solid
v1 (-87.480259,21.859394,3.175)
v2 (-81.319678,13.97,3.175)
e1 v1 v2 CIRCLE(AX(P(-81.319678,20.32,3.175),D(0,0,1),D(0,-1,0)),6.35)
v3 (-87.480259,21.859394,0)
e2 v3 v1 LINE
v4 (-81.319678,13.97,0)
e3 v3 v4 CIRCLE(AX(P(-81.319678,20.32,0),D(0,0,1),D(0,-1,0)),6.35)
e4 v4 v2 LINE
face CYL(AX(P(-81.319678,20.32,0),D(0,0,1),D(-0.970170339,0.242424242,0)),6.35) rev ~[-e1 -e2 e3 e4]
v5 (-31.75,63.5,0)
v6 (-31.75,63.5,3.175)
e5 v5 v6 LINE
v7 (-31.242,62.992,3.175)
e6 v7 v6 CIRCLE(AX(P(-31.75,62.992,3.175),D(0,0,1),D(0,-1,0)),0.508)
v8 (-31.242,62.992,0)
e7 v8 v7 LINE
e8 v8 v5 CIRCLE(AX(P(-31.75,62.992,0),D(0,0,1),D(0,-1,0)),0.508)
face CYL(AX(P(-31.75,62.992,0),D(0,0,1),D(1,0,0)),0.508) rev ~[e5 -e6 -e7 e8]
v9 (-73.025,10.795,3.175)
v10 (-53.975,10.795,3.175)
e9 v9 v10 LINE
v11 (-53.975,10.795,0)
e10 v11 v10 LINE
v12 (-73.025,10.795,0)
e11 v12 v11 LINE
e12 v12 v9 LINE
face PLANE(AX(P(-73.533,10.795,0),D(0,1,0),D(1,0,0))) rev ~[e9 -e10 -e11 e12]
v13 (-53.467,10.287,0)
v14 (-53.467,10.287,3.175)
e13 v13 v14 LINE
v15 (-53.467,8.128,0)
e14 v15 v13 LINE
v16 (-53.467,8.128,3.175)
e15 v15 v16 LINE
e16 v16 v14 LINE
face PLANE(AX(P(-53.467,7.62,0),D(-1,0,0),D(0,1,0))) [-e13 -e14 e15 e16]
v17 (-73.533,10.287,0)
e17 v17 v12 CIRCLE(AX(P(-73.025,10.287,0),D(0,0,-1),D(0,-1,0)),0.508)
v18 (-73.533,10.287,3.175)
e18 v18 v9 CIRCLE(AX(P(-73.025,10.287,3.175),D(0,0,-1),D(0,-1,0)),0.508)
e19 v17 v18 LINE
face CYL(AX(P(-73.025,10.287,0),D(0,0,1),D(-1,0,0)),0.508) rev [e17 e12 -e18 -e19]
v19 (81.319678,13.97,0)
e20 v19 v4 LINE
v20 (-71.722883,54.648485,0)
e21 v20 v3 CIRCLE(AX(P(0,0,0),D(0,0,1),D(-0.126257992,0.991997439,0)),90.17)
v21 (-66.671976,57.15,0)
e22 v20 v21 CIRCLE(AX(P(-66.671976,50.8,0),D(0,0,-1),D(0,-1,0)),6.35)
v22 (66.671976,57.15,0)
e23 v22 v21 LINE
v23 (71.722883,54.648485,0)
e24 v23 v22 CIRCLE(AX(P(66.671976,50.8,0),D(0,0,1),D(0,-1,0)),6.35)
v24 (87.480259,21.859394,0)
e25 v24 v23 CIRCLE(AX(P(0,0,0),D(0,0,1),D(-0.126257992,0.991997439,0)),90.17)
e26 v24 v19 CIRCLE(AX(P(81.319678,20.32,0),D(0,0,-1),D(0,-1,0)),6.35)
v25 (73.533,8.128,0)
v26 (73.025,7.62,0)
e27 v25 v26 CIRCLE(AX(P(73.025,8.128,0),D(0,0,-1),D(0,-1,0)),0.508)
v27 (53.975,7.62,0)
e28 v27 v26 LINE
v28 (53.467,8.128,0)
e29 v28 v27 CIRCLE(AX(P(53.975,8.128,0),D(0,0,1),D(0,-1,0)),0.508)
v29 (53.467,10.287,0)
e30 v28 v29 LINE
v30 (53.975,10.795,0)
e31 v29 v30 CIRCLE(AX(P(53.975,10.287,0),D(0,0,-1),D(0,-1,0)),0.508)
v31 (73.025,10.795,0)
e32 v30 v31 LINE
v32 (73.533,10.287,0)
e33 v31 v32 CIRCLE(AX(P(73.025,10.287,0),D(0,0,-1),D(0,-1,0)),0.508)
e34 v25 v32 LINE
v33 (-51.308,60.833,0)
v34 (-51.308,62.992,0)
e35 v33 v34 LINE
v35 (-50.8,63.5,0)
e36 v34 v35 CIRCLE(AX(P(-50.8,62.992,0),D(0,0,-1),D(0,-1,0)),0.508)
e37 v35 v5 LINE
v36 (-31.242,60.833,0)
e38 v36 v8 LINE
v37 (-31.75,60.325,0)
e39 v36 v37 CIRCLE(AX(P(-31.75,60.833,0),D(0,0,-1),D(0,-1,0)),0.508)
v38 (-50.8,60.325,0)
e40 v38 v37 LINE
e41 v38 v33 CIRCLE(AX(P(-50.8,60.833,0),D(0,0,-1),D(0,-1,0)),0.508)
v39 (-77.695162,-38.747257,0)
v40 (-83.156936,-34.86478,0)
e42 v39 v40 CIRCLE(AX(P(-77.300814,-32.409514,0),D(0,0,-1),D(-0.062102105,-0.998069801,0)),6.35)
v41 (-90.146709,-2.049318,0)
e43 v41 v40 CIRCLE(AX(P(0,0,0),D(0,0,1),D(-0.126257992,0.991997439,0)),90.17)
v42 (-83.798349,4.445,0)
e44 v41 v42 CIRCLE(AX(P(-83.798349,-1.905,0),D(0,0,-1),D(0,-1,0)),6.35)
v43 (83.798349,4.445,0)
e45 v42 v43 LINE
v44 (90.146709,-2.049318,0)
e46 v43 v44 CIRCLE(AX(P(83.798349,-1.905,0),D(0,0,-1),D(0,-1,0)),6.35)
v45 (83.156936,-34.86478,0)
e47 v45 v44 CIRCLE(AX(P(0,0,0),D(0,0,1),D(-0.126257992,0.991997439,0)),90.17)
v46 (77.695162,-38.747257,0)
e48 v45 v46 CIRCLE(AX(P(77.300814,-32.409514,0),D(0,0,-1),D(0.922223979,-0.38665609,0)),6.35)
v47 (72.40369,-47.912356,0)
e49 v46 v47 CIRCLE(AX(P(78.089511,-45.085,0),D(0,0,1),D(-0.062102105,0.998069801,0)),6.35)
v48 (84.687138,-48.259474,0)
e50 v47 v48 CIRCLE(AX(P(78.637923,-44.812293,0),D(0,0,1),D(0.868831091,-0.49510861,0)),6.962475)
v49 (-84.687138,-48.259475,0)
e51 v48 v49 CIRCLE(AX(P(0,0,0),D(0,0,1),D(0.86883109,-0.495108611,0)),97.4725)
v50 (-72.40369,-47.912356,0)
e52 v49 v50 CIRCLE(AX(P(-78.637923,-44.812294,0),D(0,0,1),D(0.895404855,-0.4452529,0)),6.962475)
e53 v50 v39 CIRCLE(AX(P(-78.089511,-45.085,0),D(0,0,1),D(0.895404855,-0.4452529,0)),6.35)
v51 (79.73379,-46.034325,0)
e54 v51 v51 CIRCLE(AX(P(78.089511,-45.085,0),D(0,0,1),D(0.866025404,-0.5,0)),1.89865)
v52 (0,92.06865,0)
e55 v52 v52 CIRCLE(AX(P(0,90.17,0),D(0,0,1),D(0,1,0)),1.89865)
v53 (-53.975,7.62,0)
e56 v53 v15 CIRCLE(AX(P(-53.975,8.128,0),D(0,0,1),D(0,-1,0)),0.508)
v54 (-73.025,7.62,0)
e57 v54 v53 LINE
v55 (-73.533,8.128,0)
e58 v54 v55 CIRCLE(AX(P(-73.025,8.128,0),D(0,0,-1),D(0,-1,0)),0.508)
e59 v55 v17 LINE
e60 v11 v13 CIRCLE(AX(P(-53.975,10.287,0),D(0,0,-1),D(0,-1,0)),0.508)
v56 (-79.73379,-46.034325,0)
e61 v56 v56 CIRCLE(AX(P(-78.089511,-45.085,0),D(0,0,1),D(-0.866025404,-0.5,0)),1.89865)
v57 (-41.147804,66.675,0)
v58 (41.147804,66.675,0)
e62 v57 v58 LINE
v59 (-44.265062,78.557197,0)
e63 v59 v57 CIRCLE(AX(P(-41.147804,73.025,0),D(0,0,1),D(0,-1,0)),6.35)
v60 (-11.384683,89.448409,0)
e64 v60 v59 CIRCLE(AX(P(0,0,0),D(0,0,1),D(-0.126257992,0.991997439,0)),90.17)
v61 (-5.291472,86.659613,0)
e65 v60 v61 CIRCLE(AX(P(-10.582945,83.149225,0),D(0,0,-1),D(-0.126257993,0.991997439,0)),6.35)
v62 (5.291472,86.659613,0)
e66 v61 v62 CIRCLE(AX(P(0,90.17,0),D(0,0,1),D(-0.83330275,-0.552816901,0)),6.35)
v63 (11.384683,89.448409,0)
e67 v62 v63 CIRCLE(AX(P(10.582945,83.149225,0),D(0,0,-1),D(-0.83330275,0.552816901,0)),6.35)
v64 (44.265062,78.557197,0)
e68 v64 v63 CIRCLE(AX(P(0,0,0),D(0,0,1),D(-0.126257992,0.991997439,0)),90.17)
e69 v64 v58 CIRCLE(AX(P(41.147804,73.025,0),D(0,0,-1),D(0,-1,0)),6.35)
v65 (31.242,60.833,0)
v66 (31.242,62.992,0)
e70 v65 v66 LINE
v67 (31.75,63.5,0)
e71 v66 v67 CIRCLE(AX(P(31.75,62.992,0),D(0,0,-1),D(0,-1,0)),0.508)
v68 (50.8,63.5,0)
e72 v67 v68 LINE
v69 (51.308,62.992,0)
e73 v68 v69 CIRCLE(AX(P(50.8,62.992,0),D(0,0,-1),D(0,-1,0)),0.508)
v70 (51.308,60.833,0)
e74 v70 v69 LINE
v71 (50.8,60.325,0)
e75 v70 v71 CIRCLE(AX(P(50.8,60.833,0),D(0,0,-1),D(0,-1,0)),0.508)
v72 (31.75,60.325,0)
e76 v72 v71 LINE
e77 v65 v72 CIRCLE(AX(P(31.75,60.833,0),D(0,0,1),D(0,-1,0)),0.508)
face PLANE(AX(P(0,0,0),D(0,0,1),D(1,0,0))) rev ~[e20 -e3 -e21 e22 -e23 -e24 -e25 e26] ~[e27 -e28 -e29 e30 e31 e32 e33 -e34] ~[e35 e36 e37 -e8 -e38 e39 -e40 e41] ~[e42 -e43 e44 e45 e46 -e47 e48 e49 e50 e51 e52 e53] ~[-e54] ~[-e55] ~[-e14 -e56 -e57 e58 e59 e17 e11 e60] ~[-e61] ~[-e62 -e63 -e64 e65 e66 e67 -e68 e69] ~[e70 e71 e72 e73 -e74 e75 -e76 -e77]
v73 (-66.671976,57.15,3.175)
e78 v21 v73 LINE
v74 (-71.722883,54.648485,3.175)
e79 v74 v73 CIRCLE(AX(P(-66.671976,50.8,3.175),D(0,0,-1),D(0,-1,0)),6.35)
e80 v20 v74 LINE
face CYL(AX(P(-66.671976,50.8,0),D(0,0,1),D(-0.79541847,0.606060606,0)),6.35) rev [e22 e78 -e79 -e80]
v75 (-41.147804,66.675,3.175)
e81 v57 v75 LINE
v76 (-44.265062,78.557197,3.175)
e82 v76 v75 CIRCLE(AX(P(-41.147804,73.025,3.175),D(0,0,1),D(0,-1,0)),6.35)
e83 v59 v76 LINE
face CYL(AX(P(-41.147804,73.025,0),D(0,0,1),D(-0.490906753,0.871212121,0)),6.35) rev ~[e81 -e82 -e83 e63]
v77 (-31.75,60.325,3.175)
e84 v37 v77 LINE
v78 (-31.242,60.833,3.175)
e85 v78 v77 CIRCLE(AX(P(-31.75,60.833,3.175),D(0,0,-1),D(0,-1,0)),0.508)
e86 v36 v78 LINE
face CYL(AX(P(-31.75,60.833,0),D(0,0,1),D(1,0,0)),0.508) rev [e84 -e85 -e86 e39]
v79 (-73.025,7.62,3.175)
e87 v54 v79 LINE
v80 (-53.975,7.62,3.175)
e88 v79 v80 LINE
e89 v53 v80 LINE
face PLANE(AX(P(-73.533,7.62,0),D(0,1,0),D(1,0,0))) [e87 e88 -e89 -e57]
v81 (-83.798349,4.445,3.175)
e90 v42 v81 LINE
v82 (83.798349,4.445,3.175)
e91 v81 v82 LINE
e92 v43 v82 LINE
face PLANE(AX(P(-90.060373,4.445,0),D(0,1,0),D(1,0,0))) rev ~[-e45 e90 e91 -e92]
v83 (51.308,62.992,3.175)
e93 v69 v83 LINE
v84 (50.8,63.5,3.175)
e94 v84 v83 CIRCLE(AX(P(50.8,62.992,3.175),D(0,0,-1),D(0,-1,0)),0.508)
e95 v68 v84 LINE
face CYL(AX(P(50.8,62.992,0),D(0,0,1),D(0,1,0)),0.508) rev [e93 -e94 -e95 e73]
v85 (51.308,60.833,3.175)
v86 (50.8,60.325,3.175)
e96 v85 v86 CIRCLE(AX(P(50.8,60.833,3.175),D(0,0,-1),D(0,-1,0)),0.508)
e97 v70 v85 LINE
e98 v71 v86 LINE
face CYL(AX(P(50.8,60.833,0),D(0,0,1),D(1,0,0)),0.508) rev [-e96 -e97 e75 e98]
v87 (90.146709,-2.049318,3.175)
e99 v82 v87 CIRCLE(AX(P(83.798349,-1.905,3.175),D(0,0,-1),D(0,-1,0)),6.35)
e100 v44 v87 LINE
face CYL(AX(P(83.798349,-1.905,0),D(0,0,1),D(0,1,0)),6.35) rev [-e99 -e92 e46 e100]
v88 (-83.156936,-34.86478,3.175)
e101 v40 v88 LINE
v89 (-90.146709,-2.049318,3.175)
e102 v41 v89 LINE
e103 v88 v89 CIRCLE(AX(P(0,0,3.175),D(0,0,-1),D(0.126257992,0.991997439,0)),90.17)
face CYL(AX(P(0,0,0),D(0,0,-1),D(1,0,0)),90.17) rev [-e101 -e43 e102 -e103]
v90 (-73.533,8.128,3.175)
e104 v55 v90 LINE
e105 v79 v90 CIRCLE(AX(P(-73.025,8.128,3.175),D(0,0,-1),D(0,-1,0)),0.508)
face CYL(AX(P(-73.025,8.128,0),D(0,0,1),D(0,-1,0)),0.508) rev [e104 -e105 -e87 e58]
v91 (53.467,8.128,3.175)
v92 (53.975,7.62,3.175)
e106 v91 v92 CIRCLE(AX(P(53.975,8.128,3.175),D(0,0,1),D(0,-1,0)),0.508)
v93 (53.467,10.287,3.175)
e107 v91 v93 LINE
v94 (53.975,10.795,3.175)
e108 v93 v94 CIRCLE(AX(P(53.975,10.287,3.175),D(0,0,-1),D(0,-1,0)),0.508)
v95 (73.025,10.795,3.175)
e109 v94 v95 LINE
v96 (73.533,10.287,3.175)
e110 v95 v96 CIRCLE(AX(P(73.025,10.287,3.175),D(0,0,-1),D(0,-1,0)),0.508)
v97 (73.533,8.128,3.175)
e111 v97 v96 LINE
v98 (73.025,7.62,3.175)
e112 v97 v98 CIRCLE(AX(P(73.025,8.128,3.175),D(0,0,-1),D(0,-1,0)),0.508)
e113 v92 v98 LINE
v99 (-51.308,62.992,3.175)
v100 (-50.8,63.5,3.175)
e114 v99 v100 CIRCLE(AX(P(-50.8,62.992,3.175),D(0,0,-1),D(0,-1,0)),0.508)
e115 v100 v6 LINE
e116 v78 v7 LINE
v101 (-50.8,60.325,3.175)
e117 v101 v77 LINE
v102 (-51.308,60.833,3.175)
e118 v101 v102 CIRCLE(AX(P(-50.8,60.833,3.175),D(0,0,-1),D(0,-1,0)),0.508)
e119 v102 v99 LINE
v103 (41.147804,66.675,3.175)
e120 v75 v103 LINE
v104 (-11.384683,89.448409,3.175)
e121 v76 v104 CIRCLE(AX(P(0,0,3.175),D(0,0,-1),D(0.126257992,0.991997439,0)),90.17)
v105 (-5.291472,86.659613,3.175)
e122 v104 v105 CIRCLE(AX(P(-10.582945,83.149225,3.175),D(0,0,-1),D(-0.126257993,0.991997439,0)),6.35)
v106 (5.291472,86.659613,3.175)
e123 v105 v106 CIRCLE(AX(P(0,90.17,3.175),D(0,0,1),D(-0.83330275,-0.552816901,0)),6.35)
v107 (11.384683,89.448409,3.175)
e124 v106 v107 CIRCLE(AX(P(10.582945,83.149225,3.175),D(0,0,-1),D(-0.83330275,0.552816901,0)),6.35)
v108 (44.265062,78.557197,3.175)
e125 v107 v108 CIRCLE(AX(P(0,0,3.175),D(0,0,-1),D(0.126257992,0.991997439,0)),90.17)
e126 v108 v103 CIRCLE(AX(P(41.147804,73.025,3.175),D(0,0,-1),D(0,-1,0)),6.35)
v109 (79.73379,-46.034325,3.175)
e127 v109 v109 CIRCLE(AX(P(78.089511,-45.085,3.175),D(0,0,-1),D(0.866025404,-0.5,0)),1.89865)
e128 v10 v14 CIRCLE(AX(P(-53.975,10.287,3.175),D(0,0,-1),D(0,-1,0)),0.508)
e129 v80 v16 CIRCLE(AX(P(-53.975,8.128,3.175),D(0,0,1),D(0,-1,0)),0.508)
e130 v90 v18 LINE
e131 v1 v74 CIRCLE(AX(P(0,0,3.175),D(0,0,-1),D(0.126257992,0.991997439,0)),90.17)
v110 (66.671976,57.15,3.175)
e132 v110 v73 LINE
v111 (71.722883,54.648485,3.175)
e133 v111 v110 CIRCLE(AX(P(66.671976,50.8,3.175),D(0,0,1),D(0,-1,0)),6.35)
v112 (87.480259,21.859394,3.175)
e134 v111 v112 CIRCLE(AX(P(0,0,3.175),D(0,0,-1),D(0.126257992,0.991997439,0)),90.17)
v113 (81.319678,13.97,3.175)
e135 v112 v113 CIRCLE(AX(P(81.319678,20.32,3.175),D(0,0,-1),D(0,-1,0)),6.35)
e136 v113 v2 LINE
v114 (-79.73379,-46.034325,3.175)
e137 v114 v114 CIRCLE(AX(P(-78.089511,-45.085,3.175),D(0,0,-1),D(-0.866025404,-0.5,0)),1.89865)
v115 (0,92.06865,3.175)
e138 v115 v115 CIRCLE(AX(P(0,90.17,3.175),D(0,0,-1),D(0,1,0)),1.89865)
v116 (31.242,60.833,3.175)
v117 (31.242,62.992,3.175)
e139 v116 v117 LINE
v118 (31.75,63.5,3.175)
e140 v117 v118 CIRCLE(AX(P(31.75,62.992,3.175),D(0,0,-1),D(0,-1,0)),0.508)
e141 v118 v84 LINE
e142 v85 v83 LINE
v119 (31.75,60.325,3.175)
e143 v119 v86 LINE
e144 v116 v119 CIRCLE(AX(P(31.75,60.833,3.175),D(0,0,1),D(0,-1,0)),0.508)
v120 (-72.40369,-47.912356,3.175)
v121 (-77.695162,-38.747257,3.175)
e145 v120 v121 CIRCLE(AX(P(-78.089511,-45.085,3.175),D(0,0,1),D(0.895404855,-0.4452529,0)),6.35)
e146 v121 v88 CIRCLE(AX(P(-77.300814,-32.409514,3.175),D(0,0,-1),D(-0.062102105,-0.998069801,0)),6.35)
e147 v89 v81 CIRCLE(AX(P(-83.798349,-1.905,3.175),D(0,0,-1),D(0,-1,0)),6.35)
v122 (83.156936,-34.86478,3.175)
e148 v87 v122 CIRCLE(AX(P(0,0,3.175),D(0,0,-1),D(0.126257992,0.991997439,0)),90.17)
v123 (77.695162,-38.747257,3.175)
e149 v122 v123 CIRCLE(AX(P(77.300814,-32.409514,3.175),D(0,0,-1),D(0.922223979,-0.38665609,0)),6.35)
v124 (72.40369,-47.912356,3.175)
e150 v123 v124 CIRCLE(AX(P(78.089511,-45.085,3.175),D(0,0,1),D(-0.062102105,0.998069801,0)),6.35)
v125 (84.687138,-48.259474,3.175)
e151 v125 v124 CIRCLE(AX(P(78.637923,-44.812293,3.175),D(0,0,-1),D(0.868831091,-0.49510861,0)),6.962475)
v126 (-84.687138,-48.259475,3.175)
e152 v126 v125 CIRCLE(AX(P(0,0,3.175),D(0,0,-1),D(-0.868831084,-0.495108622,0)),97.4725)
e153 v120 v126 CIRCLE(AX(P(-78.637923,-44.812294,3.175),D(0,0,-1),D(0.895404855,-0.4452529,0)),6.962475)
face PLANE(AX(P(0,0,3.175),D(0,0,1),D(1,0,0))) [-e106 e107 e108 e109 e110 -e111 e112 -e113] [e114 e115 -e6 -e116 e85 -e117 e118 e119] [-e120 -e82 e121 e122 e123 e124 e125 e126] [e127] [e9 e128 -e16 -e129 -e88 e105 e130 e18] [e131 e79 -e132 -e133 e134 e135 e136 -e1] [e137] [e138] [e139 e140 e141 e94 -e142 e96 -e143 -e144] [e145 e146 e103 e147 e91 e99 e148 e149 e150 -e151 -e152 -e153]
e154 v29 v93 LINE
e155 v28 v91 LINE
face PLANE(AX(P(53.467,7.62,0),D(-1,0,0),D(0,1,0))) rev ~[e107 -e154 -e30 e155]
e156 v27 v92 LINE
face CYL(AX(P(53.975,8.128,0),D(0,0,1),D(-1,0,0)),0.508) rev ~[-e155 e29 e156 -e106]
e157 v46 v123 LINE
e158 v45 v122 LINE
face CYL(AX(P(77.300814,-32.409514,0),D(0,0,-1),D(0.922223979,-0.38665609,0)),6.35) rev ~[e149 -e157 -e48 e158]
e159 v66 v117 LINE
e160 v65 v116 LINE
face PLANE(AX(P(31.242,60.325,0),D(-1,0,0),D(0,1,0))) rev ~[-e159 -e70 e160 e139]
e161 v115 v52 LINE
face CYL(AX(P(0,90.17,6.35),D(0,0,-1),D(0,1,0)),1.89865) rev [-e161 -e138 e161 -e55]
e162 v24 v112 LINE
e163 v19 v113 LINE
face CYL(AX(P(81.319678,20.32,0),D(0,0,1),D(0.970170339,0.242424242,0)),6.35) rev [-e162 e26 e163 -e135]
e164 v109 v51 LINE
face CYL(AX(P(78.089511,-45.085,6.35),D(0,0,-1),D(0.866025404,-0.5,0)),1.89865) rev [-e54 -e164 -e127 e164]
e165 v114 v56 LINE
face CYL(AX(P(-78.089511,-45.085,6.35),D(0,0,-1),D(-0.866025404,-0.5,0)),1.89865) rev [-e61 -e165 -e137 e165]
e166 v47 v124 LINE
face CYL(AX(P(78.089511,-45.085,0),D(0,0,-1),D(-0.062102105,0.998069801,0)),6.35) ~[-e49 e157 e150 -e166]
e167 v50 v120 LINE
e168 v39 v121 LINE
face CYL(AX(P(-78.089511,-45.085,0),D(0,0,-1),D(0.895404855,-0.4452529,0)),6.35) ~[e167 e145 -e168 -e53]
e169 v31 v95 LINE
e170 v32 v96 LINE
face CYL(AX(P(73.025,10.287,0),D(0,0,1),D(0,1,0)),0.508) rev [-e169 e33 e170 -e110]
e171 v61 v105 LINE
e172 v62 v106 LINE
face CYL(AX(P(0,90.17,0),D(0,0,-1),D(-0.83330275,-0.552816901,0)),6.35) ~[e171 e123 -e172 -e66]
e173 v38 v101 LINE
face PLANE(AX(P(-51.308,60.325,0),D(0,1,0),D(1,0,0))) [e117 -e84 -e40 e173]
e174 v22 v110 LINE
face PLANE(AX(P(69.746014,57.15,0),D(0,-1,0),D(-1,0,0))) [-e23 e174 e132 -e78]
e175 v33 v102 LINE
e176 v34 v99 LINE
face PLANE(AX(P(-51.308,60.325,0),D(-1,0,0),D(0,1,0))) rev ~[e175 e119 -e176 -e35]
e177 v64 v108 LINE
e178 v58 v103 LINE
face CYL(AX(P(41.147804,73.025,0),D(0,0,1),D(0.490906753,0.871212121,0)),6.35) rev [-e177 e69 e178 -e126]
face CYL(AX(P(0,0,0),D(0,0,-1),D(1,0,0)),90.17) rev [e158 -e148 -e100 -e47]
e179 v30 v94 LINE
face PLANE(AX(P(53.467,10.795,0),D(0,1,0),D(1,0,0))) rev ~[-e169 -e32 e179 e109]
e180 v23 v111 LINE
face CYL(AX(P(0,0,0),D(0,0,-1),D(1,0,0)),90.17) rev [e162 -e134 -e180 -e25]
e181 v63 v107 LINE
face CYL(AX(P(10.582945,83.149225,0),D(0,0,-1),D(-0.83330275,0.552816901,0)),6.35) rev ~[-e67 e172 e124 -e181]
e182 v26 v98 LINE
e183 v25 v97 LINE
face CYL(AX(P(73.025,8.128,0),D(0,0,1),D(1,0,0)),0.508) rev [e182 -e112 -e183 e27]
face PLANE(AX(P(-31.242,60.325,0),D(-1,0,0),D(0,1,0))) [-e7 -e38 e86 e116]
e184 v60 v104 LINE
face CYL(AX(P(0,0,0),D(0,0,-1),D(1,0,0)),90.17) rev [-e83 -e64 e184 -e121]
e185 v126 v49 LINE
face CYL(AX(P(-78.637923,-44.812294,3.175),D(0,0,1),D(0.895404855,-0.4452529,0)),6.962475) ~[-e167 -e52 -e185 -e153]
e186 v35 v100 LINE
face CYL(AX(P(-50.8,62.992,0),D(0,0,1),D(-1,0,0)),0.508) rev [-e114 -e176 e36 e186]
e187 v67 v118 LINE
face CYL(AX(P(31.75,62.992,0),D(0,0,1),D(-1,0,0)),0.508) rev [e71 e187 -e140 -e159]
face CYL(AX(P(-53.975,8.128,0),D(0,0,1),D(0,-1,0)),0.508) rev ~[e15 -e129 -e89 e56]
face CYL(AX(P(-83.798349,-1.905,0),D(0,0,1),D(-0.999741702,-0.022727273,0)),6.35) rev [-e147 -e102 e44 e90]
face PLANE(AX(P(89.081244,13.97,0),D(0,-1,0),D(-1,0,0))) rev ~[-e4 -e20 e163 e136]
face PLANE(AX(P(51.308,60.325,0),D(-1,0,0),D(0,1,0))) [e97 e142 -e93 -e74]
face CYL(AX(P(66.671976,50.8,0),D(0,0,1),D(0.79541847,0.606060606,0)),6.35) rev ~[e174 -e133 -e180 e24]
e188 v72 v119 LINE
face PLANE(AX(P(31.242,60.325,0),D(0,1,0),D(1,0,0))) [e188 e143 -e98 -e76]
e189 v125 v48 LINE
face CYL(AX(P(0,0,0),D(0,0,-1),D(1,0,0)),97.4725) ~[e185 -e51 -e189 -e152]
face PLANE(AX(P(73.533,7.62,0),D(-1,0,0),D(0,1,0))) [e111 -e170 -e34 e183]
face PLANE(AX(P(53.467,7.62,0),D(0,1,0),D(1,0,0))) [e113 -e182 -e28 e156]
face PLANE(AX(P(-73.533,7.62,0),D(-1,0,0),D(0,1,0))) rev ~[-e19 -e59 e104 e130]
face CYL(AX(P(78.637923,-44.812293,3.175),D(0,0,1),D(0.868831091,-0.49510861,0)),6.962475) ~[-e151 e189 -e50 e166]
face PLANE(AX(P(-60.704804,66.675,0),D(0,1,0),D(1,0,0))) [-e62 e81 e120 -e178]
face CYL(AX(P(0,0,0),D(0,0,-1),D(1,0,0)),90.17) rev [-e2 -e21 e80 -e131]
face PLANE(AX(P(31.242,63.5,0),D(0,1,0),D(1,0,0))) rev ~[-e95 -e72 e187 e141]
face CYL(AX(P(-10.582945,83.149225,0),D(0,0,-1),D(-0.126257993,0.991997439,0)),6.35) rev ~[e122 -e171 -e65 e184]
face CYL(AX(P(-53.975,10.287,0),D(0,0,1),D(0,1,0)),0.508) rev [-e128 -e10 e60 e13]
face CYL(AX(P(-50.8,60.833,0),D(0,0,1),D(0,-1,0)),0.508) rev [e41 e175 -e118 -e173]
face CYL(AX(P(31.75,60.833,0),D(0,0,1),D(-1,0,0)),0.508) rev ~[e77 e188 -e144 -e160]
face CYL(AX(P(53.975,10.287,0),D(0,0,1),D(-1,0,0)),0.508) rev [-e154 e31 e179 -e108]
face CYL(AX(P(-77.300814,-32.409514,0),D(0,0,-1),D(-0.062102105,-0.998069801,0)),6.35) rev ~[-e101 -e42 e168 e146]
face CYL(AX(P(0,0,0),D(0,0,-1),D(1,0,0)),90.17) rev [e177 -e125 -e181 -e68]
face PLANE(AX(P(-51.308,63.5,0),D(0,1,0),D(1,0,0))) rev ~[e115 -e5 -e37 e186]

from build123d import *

# Parameters (mm, degrees)
SKETCH1_R           = 97.4725
SKETCH1_R_2         = 90.17
BOSS_EXTRUDE1_DEPTH = 3.175
BOSS_EXTRUDE2_START = -3.175
BOSS_EXTRUDE2_DEPTH = 3.175
CIRPATTERN2_COUNT   = 3
CUT_EXTRUDE1_DEPTH  = 138.883491171
BOSS_EXTRUDE5_START = -3.175
SKETCH13_W          = 20.066
SKETCH13_H          = 3.175
BOSS_EXTRUDE5_DEPTH = 3.175
BOSS_EXTRUDE6_START = -3.175
SKETCH17_W          = 20.066
SKETCH17_H          = 3.175
BOSS_EXTRUDE6_DEPTH = 3.175
FILLET1_R           = 6.35
FILLET2_R           = 0.508


with BuildPart() as part:
    # Sketch1 → Boss-Extrude1 (new body)
    with BuildSketch(Plane.XY):
        Circle(SKETCH1_R)
        Circle(SKETCH1_R_2, mode=Mode.SUBTRACT)
    extrude(amount=BOSS_EXTRUDE1_DEPTH)

    # Sketch2 → Boss-Extrude2 (add)
    with BuildSketch(Plane.XY.offset(3.175).offset(BOSS_EXTRUDE2_START)):
        with BuildLine():
            ThreePointArc((-5.291472464, 86.659612676), (0, 83.82), (5.291472464, 86.659612676))
            ThreePointArc((5.291472464, 86.659612676), (7.940261692, 88.923194985), (11.38468318, 89.448409091))
            ThreePointArc((11.38468318, 89.448409091), (0, 90.17), (-11.38468318, 89.448409091))
            ThreePointArc((-11.38468318, 89.448409091), (-7.940261692, 88.923194985), (-5.291472464, 86.659612676))
        make_face()
    boss_extrude2 = extrude(amount=BOSS_EXTRUDE2_DEPTH)

    # Sketch7 → #6 Clearance Hole2 (revolve, cut)
    with BuildSketch(Plane(origin=(0, 90.17, 0), x_dir=(0, 1, 0), z_dir=(1, 0, 0))):
        Polygon((0, 0), (0, 7.490824014), (1.89865, 6.35), (1.89865, 0), align=None)
    f_6_clearance_hole2 = revolve(axis=Axis((0, 90.17, -6.35), (0, 0, 1)), mode=Mode.SUBTRACT)

    # CirPattern2: Boss-Extrude2, #6 Clearance Hole2 ×3 about axis
    cirpattern2_axis = Axis((0, 0, 0), (0, 0, 1))
    add([boss_extrude2.rotate(cirpattern2_axis, i * 360 / CIRPATTERN2_COUNT) for i in range(1, CIRPATTERN2_COUNT)])
    add([f_6_clearance_hole2.rotate(cirpattern2_axis, i * 360 / CIRPATTERN2_COUNT) for i in range(1, CIRPATTERN2_COUNT)], mode=Mode.SUBTRACT)

    # Sketch14 → Cut-Extrude1 (cut, through all)
    with BuildSketch(Plane.XY.offset(3.175)):
        with BuildLine():
            ThreePointArc((-72.403689828, -47.912355915), (-78.441248685, -51.771990171), (-84.687137855, -48.259475113))
            ThreePointArc((-84.687137855, -48.259475113), (6.18e-07, -97.4725), (84.687138467, -48.25947404))
            ThreePointArc((84.687138467, -48.25947404), (78.441249322, -51.771989501), (72.403689828, -47.912355915))
            ThreePointArc((72.403689828, -47.912355915), (73.039614996, -51.33806583), (71.772253011, -54.583629393))
            ThreePointArc((71.772253011, -54.583629393), (0, -90.17), (-71.772253011, -54.583629393))
            ThreePointArc((-71.772253011, -54.583629393), (-73.039614996, -51.33806583), (-72.403689828, -47.912355915))
        make_face()
    extrude(amount=-CUT_EXTRUDE1_DEPTH, mode=Mode.SUBTRACT)

    # Sketch13 → Boss-Extrude5 (add)
    with BuildSketch(Plane.XY.offset(3.175).offset(BOSS_EXTRUDE5_START)):
        with BuildLine():
            Line((-90.0603735, 4.445), (90.0603735, 4.445))
            ThreePointArc((90.0603735, 4.445), (89.697330897, 9.220505951), (89.081243817, 13.97))
            Line((89.081243817, 13.97), (-89.081243817, 13.97))
            ThreePointArc((-89.081243817, 13.97), (-89.697330897, 9.220505951), (-90.0603735, 4.445))
        make_face()
        with Locations((-63.5, 9.2075)):
            Rectangle(SKETCH13_W, SKETCH13_H, mode=Mode.SUBTRACT)
        with Locations((63.5, 9.2075)):
            Rectangle(SKETCH13_W, SKETCH13_H, mode=Mode.SUBTRACT)
    extrude(amount=BOSS_EXTRUDE5_DEPTH)

    # Sketch17 → Boss-Extrude6 (add)
    with BuildSketch(Plane.XY.offset(3.175).offset(BOSS_EXTRUDE6_START)):
        with BuildLine():
            Line((-60.704804382, 66.675), (60.704804382, 66.675))
            ThreePointArc((60.704804382, 66.675), (65.399047227, 62.0773189), (69.746013506, 57.15))
            Line((69.746013506, 57.15), (-69.746013506, 57.15))
            ThreePointArc((-69.746013506, 57.15), (-65.399047227, 62.0773189), (-60.704804382, 66.675))
        make_face()
        with Locations((-41.275, 61.9125)):
            Rectangle(SKETCH17_W, SKETCH17_H, mode=Mode.SUBTRACT)
        with Locations((41.275, 61.9125)):
            Rectangle(SKETCH17_W, SKETCH17_H, mode=Mode.SUBTRACT)
    extrude(amount=BOSS_EXTRUDE6_DEPTH)

    # Fillet1
    fillet1_edges = [part.edges().sort_by_distance(p)[0] for p in [
        (69.746013506, 57.15, 1.5875),
        (60.704804382, 66.675, 1.5875),
        (-60.704804382, 66.675, 1.5875),
        (-69.746013506, 57.15, 1.5875),
        (90.0603735, 4.445, 1.5875),
        (89.081243817, 13.97, 1.5875),
        (-89.081243817, 13.97, 1.5875),
        (-90.0603735, 4.445, 1.5875),
    ]]
    fillet(fillet1_edges, radius=FILLET1_R)

    # Fillet2
    fillet2_edges = [part.edges().sort_by_distance(p)[0] for p in [
        (-51.308, 60.325, 1.5875),
        (-31.242, 60.325, 1.5875),
        (-31.242, 63.5, 1.5875),
        (-51.308, 63.5, 1.5875),
        (31.242, 60.325, 1.5875),
        (51.308, 60.325, 1.5875),
        (51.308, 63.5, 1.5875),
        (31.242, 63.5, 1.5875),
        (-73.533, 7.62, 1.5875),
        (-53.467, 7.62, 1.5875),
        (-53.467, 10.795, 1.5875),
        (-73.533, 10.795, 1.5875),
        (53.467, 7.62, 1.5875),
        (73.533, 7.62, 1.5875),
        (73.533, 10.795, 1.5875),
        (53.467, 10.795, 1.5875),
    ]]
    fillet(fillet2_edges, radius=FILLET2_R)


solid = part.part
